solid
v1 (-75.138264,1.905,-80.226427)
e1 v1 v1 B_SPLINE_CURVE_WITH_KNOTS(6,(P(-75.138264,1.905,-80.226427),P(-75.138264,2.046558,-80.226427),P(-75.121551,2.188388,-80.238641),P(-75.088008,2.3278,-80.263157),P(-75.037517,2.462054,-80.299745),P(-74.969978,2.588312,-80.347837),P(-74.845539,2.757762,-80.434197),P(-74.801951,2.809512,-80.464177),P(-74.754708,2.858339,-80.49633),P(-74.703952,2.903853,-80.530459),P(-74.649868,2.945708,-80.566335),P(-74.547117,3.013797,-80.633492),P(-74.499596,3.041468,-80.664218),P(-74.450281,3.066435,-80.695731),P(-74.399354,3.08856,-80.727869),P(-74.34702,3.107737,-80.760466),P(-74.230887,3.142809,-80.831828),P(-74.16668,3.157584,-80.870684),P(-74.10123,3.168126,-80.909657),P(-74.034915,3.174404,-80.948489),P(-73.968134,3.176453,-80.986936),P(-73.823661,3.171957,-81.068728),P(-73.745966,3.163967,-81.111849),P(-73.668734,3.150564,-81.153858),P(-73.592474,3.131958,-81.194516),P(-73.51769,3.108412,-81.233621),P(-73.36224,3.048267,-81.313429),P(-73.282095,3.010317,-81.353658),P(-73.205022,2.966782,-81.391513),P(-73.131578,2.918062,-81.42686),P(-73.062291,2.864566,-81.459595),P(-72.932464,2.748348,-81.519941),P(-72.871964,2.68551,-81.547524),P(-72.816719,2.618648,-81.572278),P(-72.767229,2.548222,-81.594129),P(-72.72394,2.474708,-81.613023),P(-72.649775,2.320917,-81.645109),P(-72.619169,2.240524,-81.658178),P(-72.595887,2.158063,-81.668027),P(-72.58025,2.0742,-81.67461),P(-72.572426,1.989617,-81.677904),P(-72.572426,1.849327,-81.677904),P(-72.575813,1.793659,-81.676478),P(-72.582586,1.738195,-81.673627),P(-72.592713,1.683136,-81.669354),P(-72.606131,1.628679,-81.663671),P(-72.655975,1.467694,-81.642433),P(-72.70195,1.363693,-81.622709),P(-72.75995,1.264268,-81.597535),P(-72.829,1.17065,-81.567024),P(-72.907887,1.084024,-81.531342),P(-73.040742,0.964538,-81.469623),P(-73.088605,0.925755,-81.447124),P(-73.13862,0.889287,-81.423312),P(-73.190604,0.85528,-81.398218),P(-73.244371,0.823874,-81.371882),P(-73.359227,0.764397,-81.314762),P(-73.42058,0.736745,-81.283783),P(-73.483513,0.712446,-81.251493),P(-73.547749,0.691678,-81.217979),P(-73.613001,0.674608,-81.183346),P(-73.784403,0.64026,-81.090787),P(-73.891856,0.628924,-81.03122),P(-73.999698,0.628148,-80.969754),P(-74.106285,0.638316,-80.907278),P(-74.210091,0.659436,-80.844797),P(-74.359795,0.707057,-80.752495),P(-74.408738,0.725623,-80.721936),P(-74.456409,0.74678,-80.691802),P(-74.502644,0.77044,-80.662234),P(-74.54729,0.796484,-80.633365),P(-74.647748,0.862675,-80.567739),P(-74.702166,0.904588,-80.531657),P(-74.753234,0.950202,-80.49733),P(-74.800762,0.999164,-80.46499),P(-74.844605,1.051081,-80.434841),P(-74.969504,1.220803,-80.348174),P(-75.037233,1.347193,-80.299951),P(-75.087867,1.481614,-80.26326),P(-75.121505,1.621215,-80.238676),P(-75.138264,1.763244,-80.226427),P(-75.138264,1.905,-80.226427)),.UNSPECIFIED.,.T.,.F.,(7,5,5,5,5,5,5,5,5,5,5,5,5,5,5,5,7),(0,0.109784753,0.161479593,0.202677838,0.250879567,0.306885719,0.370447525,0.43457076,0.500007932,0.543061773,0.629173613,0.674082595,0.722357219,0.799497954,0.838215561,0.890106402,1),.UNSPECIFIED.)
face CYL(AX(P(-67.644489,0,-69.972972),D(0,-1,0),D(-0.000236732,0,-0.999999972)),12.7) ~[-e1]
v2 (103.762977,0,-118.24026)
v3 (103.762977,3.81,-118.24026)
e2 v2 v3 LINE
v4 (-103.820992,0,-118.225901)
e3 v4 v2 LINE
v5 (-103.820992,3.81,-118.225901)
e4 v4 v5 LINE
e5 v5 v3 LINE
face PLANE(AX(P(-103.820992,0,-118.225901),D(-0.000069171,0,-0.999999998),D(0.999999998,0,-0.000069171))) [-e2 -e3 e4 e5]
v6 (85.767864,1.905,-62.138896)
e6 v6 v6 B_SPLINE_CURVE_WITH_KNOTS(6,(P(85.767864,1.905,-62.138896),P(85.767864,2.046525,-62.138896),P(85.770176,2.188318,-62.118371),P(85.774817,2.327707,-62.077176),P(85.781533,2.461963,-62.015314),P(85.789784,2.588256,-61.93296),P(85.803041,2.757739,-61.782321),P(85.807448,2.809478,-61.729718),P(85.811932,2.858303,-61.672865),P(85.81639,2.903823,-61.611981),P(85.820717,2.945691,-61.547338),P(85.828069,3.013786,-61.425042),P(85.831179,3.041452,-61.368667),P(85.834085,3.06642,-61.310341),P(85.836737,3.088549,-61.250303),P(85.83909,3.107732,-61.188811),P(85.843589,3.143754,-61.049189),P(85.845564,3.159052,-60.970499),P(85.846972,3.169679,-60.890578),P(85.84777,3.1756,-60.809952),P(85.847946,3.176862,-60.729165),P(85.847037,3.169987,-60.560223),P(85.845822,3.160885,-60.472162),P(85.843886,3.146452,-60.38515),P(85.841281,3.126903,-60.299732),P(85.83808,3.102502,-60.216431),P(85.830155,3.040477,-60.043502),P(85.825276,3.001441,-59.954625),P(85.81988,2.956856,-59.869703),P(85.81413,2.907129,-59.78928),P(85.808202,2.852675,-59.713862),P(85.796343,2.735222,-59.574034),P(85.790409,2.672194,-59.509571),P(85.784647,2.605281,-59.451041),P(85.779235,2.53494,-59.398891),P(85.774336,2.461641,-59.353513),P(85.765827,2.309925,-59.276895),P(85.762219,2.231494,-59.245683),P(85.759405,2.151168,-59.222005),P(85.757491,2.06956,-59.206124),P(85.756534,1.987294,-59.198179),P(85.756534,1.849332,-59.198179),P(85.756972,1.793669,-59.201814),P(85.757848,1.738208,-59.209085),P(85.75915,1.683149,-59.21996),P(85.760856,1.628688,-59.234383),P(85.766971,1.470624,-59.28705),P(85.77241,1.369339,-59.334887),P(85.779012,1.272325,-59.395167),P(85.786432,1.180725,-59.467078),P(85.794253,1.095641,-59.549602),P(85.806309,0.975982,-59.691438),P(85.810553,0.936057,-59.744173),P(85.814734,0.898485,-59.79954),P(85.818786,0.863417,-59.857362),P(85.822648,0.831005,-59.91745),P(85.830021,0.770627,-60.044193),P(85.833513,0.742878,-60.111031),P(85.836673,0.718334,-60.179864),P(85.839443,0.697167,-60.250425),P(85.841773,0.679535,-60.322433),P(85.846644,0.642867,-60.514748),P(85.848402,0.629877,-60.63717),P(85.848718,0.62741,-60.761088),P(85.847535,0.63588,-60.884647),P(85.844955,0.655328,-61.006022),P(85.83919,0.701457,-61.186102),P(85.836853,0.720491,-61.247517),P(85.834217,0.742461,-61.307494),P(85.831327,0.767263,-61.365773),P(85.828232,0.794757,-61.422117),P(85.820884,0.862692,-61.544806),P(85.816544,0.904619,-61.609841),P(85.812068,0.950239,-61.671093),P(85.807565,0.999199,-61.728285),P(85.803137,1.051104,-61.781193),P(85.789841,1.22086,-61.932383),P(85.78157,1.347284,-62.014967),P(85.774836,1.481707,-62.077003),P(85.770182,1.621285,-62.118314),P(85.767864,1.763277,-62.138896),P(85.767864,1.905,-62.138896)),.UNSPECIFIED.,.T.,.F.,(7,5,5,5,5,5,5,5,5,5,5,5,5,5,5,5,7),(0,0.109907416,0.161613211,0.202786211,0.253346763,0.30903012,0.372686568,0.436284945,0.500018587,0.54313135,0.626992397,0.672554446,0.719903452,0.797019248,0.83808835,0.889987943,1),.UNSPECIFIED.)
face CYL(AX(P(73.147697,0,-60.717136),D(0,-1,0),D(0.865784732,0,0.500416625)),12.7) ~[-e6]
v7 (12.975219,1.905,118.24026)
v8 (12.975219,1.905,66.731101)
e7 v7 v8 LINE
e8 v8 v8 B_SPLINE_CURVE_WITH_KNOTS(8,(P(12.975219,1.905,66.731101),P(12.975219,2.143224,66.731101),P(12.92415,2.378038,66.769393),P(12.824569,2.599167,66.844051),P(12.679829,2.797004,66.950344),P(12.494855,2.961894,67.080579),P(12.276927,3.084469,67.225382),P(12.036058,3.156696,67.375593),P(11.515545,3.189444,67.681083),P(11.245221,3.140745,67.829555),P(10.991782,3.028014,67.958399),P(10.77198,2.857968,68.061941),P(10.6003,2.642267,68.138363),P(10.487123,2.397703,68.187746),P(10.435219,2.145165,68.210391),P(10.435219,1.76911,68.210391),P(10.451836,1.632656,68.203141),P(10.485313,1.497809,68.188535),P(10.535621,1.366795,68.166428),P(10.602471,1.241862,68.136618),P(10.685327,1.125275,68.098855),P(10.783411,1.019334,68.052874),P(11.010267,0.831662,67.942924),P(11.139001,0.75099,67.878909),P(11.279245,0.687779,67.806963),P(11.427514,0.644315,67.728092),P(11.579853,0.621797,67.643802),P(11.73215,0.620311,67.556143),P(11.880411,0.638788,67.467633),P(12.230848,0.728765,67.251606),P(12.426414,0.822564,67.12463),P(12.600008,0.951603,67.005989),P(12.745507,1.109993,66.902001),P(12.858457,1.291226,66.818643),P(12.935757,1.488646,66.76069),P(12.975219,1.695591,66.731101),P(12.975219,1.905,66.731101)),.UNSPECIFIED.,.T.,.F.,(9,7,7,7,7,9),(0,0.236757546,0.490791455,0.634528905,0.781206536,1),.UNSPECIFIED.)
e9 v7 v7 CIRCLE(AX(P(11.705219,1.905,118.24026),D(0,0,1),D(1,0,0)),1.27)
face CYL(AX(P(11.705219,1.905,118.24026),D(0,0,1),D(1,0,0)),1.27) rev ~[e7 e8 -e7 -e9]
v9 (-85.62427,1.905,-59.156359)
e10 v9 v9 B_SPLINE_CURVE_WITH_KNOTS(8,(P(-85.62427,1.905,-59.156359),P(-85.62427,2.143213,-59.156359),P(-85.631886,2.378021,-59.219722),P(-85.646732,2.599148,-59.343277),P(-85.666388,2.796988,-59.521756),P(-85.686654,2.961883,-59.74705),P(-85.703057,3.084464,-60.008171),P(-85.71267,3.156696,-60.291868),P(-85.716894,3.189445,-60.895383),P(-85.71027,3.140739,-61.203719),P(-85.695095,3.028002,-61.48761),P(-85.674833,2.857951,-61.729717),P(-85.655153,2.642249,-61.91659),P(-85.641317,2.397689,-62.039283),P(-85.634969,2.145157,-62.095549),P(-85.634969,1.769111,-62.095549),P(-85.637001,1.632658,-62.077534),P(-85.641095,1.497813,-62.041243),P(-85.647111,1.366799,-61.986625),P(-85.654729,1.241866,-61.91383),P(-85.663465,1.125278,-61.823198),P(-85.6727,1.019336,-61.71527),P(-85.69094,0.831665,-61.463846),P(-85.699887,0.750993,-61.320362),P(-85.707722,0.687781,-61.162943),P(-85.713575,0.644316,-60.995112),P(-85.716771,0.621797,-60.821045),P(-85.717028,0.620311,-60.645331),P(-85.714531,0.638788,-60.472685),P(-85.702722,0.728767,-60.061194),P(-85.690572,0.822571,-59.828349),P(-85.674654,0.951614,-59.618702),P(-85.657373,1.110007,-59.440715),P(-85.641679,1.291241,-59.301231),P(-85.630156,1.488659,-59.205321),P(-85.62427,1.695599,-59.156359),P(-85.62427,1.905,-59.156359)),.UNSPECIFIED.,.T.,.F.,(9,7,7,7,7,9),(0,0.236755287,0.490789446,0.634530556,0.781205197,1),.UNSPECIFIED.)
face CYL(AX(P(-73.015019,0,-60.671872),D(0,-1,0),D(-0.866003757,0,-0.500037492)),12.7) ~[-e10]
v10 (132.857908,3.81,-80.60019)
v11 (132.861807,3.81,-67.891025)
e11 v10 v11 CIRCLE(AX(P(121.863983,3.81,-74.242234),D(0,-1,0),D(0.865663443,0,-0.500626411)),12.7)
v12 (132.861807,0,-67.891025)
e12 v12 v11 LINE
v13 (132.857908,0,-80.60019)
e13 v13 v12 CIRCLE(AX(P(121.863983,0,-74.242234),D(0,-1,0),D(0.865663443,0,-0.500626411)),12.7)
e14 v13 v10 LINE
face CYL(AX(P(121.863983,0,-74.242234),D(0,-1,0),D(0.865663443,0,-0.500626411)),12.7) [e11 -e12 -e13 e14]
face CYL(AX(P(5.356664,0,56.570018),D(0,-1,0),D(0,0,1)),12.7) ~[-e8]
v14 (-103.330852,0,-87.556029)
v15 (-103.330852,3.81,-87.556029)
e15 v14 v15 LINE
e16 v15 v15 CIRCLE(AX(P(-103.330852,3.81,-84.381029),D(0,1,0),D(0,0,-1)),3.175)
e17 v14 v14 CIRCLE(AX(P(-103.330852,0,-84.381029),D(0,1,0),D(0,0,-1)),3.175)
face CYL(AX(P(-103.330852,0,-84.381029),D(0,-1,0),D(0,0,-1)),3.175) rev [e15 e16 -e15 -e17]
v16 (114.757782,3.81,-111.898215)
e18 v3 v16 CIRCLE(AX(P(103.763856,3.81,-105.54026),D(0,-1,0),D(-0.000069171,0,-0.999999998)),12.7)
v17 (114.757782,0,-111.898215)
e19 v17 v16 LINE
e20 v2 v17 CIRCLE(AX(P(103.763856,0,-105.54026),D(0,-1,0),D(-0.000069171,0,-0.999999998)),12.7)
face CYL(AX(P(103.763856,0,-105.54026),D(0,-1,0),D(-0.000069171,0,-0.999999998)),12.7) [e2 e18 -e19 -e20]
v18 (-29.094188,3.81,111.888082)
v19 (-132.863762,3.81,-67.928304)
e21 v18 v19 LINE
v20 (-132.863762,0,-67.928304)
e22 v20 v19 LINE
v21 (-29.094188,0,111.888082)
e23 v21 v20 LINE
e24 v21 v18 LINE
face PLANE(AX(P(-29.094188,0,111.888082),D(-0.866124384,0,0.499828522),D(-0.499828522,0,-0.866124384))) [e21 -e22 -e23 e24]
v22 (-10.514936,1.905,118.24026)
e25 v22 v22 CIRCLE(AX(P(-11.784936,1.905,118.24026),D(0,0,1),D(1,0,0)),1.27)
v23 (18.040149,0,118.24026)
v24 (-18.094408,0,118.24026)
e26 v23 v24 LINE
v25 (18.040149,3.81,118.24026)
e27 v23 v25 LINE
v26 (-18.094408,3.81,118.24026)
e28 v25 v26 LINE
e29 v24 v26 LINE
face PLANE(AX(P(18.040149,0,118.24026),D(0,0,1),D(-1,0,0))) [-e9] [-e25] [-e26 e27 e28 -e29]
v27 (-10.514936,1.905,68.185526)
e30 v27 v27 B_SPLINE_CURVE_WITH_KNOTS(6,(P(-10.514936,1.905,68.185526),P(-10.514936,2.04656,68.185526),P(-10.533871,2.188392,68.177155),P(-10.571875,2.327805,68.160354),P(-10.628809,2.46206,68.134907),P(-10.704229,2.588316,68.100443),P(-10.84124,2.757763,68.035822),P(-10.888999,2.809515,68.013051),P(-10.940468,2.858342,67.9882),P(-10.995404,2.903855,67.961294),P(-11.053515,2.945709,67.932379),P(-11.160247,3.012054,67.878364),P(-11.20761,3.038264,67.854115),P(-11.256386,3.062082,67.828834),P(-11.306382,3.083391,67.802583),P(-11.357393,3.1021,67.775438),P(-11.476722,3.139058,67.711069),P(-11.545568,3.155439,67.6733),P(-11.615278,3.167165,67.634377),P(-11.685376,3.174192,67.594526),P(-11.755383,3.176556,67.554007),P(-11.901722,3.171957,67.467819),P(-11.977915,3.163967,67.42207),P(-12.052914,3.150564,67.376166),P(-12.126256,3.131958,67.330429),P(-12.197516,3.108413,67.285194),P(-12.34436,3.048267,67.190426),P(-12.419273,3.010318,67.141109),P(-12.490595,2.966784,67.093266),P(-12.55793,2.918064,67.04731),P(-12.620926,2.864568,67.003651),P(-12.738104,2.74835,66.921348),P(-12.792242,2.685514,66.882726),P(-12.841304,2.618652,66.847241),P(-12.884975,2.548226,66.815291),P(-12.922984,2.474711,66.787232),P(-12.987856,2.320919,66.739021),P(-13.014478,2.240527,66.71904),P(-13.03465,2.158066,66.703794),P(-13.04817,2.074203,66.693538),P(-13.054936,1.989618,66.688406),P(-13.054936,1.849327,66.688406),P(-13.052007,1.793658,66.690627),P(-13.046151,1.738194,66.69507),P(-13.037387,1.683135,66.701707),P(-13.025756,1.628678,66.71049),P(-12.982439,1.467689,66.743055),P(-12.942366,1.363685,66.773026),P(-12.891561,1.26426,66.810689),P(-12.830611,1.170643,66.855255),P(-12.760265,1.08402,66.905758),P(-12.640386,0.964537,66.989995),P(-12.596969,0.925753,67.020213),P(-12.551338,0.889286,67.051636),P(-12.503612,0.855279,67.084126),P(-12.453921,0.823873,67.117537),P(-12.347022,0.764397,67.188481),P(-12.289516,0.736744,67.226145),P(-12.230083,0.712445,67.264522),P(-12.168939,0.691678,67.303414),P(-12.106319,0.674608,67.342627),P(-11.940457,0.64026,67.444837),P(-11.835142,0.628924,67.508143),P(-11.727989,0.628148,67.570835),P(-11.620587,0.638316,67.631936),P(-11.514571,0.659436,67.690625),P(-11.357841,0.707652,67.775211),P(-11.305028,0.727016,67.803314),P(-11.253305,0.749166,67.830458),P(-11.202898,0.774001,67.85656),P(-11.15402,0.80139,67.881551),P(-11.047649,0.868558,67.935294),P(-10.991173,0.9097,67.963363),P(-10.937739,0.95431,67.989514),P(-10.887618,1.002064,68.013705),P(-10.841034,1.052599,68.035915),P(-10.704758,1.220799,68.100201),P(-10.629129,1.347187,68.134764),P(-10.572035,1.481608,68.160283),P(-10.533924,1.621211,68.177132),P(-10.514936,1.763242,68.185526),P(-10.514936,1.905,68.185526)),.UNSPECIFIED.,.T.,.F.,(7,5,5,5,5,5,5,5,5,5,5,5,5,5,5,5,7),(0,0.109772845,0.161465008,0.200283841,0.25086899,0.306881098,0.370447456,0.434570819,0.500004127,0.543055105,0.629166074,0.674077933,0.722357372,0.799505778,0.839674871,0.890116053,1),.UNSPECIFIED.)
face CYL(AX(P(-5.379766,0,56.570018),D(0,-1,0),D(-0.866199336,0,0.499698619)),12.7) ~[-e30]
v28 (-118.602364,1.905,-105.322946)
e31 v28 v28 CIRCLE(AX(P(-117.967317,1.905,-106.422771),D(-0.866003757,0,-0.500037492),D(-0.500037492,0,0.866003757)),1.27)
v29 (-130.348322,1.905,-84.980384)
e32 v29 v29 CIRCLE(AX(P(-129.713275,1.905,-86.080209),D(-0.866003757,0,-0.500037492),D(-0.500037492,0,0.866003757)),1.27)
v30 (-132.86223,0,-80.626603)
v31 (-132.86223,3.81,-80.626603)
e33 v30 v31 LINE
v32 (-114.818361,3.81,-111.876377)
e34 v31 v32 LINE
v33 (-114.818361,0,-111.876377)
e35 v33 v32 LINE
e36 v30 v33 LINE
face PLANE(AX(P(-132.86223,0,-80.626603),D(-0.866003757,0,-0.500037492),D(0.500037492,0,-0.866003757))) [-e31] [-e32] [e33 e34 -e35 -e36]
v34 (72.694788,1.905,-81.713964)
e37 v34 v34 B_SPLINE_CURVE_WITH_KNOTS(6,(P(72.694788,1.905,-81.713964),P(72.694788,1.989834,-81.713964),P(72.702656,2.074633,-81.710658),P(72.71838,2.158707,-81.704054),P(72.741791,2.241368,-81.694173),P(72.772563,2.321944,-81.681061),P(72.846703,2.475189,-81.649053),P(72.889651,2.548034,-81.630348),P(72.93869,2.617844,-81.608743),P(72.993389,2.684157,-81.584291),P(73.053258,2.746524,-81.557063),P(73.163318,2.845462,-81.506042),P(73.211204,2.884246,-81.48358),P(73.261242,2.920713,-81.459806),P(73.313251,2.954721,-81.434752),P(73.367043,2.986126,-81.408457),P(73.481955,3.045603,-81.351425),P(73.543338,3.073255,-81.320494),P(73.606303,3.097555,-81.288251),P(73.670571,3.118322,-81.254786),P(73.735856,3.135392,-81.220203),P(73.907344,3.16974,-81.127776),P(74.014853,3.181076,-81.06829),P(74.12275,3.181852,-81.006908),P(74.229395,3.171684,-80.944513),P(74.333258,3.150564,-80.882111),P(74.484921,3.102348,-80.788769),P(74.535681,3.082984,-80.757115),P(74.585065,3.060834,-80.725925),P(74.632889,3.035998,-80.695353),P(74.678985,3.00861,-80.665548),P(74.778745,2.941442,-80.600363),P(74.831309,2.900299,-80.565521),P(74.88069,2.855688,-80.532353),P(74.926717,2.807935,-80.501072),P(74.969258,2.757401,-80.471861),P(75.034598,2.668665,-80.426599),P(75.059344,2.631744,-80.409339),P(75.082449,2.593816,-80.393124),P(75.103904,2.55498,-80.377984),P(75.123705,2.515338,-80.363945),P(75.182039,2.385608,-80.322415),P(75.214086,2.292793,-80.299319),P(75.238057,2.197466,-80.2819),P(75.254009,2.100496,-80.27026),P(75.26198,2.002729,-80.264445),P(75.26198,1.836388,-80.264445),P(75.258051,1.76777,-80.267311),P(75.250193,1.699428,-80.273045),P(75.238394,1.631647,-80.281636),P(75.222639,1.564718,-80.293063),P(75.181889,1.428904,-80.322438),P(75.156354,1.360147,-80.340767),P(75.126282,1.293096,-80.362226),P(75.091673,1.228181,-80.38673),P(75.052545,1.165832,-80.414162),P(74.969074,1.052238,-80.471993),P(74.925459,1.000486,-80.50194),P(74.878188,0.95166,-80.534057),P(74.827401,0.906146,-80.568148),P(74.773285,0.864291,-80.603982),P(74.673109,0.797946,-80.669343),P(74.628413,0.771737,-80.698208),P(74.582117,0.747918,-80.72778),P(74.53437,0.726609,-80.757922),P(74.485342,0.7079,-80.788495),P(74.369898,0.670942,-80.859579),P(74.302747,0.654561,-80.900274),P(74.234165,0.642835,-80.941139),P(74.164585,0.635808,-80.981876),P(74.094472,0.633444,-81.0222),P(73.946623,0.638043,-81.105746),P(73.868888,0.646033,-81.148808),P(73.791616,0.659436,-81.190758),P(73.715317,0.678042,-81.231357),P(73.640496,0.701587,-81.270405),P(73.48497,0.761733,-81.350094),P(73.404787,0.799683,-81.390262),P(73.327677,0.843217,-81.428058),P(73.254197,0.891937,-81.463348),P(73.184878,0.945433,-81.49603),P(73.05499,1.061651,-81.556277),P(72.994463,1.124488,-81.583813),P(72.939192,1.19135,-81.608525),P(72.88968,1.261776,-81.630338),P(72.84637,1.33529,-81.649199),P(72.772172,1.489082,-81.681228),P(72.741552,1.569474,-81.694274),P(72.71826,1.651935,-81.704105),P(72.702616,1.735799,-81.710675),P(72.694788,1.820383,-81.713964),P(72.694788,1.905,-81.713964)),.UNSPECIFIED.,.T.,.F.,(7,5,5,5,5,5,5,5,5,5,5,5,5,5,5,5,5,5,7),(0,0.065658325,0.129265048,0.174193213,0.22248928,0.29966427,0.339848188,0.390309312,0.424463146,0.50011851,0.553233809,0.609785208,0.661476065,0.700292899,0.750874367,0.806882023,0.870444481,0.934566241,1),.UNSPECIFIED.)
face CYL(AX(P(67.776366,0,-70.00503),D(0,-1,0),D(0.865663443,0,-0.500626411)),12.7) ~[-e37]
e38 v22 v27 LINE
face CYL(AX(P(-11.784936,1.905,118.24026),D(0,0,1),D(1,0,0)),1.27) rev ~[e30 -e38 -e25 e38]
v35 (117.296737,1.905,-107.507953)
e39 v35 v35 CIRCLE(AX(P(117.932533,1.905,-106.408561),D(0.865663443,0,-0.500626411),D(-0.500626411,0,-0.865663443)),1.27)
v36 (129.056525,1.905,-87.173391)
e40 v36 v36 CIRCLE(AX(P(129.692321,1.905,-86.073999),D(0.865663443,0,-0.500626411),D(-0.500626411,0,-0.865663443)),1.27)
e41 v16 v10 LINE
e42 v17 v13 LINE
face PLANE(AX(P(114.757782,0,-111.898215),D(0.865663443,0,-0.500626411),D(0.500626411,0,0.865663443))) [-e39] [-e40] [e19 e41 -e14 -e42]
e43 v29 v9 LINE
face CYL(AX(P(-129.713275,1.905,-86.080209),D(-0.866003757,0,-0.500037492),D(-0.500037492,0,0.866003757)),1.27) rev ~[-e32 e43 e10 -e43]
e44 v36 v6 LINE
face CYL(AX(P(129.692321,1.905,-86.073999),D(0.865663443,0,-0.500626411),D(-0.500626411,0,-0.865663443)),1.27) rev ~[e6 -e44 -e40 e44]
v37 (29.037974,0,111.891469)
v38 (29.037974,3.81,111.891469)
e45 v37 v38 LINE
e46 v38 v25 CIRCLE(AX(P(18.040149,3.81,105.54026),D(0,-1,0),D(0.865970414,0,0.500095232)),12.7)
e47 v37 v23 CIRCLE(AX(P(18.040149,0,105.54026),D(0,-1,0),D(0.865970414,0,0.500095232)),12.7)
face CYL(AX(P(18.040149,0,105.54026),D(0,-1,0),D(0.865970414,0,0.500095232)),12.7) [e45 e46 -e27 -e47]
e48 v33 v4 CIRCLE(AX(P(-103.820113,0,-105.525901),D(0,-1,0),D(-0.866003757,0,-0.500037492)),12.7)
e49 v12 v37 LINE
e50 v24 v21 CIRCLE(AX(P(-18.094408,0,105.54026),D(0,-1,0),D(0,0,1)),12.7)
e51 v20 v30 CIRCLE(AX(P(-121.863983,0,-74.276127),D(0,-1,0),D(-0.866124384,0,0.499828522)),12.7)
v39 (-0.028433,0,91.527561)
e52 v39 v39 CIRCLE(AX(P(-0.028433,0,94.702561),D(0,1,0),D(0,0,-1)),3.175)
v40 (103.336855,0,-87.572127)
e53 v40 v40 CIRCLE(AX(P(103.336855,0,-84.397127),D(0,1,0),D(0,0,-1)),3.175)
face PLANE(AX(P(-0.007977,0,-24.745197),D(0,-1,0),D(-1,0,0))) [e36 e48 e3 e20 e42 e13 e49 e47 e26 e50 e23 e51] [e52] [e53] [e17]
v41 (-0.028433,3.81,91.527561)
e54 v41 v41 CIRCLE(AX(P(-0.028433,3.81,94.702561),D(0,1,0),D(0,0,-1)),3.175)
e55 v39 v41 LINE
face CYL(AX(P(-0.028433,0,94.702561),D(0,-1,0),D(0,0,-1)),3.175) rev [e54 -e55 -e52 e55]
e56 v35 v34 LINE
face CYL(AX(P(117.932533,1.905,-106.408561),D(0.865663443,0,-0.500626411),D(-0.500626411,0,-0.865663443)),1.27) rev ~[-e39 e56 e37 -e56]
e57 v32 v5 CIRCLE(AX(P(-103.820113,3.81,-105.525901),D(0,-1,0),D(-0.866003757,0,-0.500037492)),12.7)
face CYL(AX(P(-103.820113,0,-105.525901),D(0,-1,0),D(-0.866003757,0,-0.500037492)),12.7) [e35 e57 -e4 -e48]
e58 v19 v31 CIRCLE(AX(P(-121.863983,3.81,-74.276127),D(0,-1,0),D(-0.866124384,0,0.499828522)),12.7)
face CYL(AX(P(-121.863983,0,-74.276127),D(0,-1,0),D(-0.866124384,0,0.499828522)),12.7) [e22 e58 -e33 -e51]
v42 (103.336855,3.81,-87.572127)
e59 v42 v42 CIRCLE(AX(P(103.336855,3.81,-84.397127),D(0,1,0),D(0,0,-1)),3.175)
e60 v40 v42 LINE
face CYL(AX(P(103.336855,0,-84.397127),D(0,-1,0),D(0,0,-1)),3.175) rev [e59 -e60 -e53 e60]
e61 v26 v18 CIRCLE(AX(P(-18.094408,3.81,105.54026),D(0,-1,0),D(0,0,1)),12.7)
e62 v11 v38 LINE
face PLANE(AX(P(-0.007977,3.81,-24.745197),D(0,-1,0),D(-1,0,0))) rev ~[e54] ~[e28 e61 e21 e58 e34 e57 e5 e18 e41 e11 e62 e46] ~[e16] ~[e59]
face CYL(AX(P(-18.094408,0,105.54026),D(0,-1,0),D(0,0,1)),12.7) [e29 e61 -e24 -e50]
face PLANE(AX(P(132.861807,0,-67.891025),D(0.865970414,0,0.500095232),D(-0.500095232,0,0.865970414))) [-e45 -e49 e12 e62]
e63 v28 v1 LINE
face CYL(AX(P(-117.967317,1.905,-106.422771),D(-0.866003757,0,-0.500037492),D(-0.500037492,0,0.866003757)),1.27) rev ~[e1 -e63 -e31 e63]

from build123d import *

# Parameters (mm, degrees)
SKETCH1_R           = 3.175
BOSS_EXTRUDE1_DEPTH = 3.81
CUT_EXTRUDE1_REACH  = 334.908
SKETCH3_R           = 1.27
CUT_EXTRUDE2_REACH  = 274.112
SKETCH5_R           = 1.27
CUT_EXTRUDE3_REACH  = 334.911
SKETCH6_R           = 1.27
BOSS_EXTRUDE2_DEPTH = 3.81


with BuildPart() as part:
    # Sketch1 → Boss-Extrude1 (new body)
    with BuildSketch(Plane(origin=(0, 0, 0), x_dir=(1, 0, 0), z_dir=(0, 1, 0))):
        with BuildLine():
            Line((-132.862230357, 80.626602679), (-114.818360917, 111.876376892))
            ThreePointArc((-114.818360917, 111.876376892), (-110.170255519, 116.524341207), (-103.82099168, 118.225900714))
            Line((-103.82099168, 118.225900714), (103.762977343, 118.240259528))
            ThreePointArc((103.762977343, 118.240259528), (110.109496385, 116.541297953), (114.757781541, 111.898214981))
            Line((114.757781541, 111.898214981), (132.857908371, 80.600189632))
            ThreePointArc((132.857908371, 80.600189632), (134.563982049, 74.246129937), (132.86180691, 67.891024761))
            Line((132.86180691, 67.891024761), (29.0379736, -111.891469007))
            ThreePointArc((29.0379736, -111.891469007), (24.389544583, -116.539131318), (18.040149336, -118.240259558))
            Line((18.040149336, -118.240259558), (-18.094408415, -118.240259558))
            ThreePointArc((-18.094408415, -118.240259558), (-24.445497205, -116.538153501), (-29.09418809, -111.888081791))
            Line((-29.09418809, -111.888081791), (-132.863762321, 67.928304298))
            ThreePointArc((-132.863762321, 67.928304298), (-134.563982554, 74.277658701), (-132.862230357, 80.626602679))
        make_face()
        with Locations(Location((-103.330851621, 84.381028983, 0), (0, 0, 90))):
            Circle(SKETCH1_R, mode=Mode.SUBTRACT)
        with Locations(Location((-0.028433279, -94.702561062, 0), (0, 0, 90))):
            Circle(SKETCH1_R, mode=Mode.SUBTRACT)
        with Locations(Location((103.336854698, 84.397127461, 0), (0, 0, 90))):
            Circle(SKETCH1_R, mode=Mode.SUBTRACT)
        with BuildLine():
            Line((-84.013266269, 67.022348434), (-78.642736989, 76.323448067))
            ThreePointArc((-78.642736989, 76.323448067), (-73.995553024, 80.970880326), (-67.647495776, 82.672971564))
            Line((-67.647495776, 82.672971564), (67.773359352, 82.705030032))
            ThreePointArc((67.773359352, 82.705030032), (74.121084724, 81.006600385), (78.770291575, 76.36298581))
            Line((78.770291575, 76.36298581), (84.141622987, 67.075091406))
            ThreePointArc((84.141622987, 67.075091406), (85.847697169, 60.718674744), (84.143163353, 54.361844845))
            Line((84.143163353, 54.361844845), (16.352129804, -62.925309178))
            ThreePointArc((16.352129804, -62.925309178), (11.704017593, -67.570067982), (5.356663713, -69.27001804))
            Line((5.356663713, -69.27001804), (-5.379766134, -69.27001804))
            ThreePointArc((-5.379766134, -69.27001804), (-11.731679612, -67.567435699), (-16.380497701, -62.916190507))
            Line((-16.380497701, -62.916190507), (-84.015750126, 54.325699819))
            ThreePointArc((-84.015750126, 54.325699819), (-85.715018316, 60.674356799), (-84.013266269, 67.022348434))
        make_face(mode=Mode.SUBTRACT)
    extrude(amount=BOSS_EXTRUDE1_DEPTH)

    # Sketch3 → Cut-Extrude1 (cut, up to next)
    with BuildSketch(Plane(origin=(134.490180652, 0, -77.777728789), x_dir=(-0.5006264112230908, 0, -0.8656634429071663), z_dir=(0.8656634429071663, 0, -0.5006264112230908)), mode=Mode.PRIVATE) as cut_extrude1_sk1:
        with Locations((9.583713099, 1.905)):
            Circle(SKETCH3_R)
    cut_extrude1_tool1 = extrude(cut_extrude1_sk1.sketch, amount=-CUT_EXTRUDE1_REACH, mode=Mode.PRIVATE) & part.part
    # Sketch3 → Cut-Extrude1 (cut, up to next)
    with BuildSketch(Plane(origin=(134.490180652, 0, -77.777728789), x_dir=(-0.5006264112230908, 0, -0.8656634429071663), z_dir=(0.8656634429071663, 0, -0.5006264112230908)), mode=Mode.PRIVATE) as cut_extrude1_sk2:
        with Locations((33.073860572, 1.905)):
            Circle(SKETCH3_R)
    cut_extrude1_tool2 = extrude(cut_extrude1_sk2.sketch, amount=-CUT_EXTRUDE1_REACH, mode=Mode.PRIVATE) & part.part
    add(cut_extrude1_tool1.solids().sort_by_distance((129.692321, 1.905, -86.073999))[0], mode=Mode.SUBTRACT)
    add(cut_extrude1_tool2.solids().sort_by_distance((117.932533, 1.905, -106.408561))[0], mode=Mode.SUBTRACT)

    # Sketch5 → Cut-Extrude2 (cut, up to next)
    with BuildSketch(Plane.XY.offset(118.240259558), mode=Mode.PRIVATE) as cut_extrude2_sk1:
        with Locations((-11.784935705, 1.905)):
            Circle(SKETCH5_R)
    cut_extrude2_tool1 = extrude(cut_extrude2_sk1.sketch, amount=-CUT_EXTRUDE2_REACH, mode=Mode.PRIVATE) & part.part
    # Sketch5 → Cut-Extrude2 (cut, up to next)
    with BuildSketch(Plane.XY.offset(118.240259558), mode=Mode.PRIVATE) as cut_extrude2_sk2:
        with Locations((11.705218914, 1.905)):
            Circle(SKETCH5_R)
    cut_extrude2_tool2 = extrude(cut_extrude2_sk2.sketch, amount=-CUT_EXTRUDE2_REACH, mode=Mode.PRIVATE) & part.part
    add(cut_extrude2_tool1.solids().sort_by_distance((-11.784936, 1.905, 118.24026))[0], mode=Mode.SUBTRACT)
    add(cut_extrude2_tool2.solids().sort_by_distance((11.705219, 1.905, 118.24026))[0], mode=Mode.SUBTRACT)

    # Sketch6 → Cut-Extrude3 (cut, up to next)
    with BuildSketch(Plane(origin=(-134.555779523, 0, -77.693582727), x_dir=(-0.500037491916206, 0, 0.8660037567344326), z_dir=(-0.8660037567344328, 0, -0.500037491916206)), mode=Mode.PRIVATE) as cut_extrude3_sk1:
        with Locations((-33.174438242, 1.905)):
            Circle(SKETCH6_R)
    cut_extrude3_tool1 = extrude(cut_extrude3_sk1.sketch, amount=-CUT_EXTRUDE3_REACH, mode=Mode.PRIVATE) & part.part
    # Sketch6 → Cut-Extrude3 (cut, up to next)
    with BuildSketch(Plane(origin=(-134.555779523, 0, -77.693582727), x_dir=(-0.500037491916206, 0, 0.8660037567344326), z_dir=(-0.8660037567344328, 0, -0.500037491916206)), mode=Mode.PRIVATE) as cut_extrude3_sk2:
        with Locations((-9.684283586, 1.905)):
            Circle(SKETCH6_R)
    cut_extrude3_tool2 = extrude(cut_extrude3_sk2.sketch, amount=-CUT_EXTRUDE3_REACH, mode=Mode.PRIVATE) & part.part
    add(cut_extrude3_tool1.solids().sort_by_distance((-117.967317, 1.905, -106.422771))[0], mode=Mode.SUBTRACT)
    add(cut_extrude3_tool2.solids().sort_by_distance((-129.713275, 1.905, -86.080209))[0], mode=Mode.SUBTRACT)

    # Sketch7 → Boss-Extrude2 (add)
    with BuildSketch(Plane(origin=(0, 0, 0), x_dir=(1, 0, 0), z_dir=(0, 1, 0))):
        with BuildLine():
            Line((84.141622987, 67.075091406), (78.770291575, 76.36298581))
            ThreePointArc((78.770291575, 76.36298581), (74.121084724, 81.006600385), (67.773359352, 82.705030032))
            Line((67.773359352, 82.705030032), (-67.647495776, 82.672971564))
            ThreePointArc((-67.647495776, 82.672971564), (-73.995553024, 80.970880326), (-78.642736989, 76.323448067))
            Line((-78.642736989, 76.323448067), (-84.013266269, 67.022348434))
            ThreePointArc((-84.013266269, 67.022348434), (-85.715018316, 60.674356799), (-84.015750126, 54.325699819))
            Line((-84.015750126, 54.325699819), (-16.380497701, -62.916190507))
            ThreePointArc((-16.380497701, -62.916190507), (-11.731679612, -67.567435699), (-5.379766134, -69.27001804))
            Line((-5.379766134, -69.27001804), (5.356663713, -69.27001804))
            ThreePointArc((5.356663713, -69.27001804), (11.704017593, -67.570067982), (16.352129804, -62.925309178))
            Line((16.352129804, -62.925309178), (84.143163353, 54.361844845))
            ThreePointArc((84.143163353, 54.361844845), (85.847697169, 60.718674744), (84.141622987, 67.075091406))
        make_face()
    extrude(amount=BOSS_EXTRUDE2_DEPTH)


solid = part.part
